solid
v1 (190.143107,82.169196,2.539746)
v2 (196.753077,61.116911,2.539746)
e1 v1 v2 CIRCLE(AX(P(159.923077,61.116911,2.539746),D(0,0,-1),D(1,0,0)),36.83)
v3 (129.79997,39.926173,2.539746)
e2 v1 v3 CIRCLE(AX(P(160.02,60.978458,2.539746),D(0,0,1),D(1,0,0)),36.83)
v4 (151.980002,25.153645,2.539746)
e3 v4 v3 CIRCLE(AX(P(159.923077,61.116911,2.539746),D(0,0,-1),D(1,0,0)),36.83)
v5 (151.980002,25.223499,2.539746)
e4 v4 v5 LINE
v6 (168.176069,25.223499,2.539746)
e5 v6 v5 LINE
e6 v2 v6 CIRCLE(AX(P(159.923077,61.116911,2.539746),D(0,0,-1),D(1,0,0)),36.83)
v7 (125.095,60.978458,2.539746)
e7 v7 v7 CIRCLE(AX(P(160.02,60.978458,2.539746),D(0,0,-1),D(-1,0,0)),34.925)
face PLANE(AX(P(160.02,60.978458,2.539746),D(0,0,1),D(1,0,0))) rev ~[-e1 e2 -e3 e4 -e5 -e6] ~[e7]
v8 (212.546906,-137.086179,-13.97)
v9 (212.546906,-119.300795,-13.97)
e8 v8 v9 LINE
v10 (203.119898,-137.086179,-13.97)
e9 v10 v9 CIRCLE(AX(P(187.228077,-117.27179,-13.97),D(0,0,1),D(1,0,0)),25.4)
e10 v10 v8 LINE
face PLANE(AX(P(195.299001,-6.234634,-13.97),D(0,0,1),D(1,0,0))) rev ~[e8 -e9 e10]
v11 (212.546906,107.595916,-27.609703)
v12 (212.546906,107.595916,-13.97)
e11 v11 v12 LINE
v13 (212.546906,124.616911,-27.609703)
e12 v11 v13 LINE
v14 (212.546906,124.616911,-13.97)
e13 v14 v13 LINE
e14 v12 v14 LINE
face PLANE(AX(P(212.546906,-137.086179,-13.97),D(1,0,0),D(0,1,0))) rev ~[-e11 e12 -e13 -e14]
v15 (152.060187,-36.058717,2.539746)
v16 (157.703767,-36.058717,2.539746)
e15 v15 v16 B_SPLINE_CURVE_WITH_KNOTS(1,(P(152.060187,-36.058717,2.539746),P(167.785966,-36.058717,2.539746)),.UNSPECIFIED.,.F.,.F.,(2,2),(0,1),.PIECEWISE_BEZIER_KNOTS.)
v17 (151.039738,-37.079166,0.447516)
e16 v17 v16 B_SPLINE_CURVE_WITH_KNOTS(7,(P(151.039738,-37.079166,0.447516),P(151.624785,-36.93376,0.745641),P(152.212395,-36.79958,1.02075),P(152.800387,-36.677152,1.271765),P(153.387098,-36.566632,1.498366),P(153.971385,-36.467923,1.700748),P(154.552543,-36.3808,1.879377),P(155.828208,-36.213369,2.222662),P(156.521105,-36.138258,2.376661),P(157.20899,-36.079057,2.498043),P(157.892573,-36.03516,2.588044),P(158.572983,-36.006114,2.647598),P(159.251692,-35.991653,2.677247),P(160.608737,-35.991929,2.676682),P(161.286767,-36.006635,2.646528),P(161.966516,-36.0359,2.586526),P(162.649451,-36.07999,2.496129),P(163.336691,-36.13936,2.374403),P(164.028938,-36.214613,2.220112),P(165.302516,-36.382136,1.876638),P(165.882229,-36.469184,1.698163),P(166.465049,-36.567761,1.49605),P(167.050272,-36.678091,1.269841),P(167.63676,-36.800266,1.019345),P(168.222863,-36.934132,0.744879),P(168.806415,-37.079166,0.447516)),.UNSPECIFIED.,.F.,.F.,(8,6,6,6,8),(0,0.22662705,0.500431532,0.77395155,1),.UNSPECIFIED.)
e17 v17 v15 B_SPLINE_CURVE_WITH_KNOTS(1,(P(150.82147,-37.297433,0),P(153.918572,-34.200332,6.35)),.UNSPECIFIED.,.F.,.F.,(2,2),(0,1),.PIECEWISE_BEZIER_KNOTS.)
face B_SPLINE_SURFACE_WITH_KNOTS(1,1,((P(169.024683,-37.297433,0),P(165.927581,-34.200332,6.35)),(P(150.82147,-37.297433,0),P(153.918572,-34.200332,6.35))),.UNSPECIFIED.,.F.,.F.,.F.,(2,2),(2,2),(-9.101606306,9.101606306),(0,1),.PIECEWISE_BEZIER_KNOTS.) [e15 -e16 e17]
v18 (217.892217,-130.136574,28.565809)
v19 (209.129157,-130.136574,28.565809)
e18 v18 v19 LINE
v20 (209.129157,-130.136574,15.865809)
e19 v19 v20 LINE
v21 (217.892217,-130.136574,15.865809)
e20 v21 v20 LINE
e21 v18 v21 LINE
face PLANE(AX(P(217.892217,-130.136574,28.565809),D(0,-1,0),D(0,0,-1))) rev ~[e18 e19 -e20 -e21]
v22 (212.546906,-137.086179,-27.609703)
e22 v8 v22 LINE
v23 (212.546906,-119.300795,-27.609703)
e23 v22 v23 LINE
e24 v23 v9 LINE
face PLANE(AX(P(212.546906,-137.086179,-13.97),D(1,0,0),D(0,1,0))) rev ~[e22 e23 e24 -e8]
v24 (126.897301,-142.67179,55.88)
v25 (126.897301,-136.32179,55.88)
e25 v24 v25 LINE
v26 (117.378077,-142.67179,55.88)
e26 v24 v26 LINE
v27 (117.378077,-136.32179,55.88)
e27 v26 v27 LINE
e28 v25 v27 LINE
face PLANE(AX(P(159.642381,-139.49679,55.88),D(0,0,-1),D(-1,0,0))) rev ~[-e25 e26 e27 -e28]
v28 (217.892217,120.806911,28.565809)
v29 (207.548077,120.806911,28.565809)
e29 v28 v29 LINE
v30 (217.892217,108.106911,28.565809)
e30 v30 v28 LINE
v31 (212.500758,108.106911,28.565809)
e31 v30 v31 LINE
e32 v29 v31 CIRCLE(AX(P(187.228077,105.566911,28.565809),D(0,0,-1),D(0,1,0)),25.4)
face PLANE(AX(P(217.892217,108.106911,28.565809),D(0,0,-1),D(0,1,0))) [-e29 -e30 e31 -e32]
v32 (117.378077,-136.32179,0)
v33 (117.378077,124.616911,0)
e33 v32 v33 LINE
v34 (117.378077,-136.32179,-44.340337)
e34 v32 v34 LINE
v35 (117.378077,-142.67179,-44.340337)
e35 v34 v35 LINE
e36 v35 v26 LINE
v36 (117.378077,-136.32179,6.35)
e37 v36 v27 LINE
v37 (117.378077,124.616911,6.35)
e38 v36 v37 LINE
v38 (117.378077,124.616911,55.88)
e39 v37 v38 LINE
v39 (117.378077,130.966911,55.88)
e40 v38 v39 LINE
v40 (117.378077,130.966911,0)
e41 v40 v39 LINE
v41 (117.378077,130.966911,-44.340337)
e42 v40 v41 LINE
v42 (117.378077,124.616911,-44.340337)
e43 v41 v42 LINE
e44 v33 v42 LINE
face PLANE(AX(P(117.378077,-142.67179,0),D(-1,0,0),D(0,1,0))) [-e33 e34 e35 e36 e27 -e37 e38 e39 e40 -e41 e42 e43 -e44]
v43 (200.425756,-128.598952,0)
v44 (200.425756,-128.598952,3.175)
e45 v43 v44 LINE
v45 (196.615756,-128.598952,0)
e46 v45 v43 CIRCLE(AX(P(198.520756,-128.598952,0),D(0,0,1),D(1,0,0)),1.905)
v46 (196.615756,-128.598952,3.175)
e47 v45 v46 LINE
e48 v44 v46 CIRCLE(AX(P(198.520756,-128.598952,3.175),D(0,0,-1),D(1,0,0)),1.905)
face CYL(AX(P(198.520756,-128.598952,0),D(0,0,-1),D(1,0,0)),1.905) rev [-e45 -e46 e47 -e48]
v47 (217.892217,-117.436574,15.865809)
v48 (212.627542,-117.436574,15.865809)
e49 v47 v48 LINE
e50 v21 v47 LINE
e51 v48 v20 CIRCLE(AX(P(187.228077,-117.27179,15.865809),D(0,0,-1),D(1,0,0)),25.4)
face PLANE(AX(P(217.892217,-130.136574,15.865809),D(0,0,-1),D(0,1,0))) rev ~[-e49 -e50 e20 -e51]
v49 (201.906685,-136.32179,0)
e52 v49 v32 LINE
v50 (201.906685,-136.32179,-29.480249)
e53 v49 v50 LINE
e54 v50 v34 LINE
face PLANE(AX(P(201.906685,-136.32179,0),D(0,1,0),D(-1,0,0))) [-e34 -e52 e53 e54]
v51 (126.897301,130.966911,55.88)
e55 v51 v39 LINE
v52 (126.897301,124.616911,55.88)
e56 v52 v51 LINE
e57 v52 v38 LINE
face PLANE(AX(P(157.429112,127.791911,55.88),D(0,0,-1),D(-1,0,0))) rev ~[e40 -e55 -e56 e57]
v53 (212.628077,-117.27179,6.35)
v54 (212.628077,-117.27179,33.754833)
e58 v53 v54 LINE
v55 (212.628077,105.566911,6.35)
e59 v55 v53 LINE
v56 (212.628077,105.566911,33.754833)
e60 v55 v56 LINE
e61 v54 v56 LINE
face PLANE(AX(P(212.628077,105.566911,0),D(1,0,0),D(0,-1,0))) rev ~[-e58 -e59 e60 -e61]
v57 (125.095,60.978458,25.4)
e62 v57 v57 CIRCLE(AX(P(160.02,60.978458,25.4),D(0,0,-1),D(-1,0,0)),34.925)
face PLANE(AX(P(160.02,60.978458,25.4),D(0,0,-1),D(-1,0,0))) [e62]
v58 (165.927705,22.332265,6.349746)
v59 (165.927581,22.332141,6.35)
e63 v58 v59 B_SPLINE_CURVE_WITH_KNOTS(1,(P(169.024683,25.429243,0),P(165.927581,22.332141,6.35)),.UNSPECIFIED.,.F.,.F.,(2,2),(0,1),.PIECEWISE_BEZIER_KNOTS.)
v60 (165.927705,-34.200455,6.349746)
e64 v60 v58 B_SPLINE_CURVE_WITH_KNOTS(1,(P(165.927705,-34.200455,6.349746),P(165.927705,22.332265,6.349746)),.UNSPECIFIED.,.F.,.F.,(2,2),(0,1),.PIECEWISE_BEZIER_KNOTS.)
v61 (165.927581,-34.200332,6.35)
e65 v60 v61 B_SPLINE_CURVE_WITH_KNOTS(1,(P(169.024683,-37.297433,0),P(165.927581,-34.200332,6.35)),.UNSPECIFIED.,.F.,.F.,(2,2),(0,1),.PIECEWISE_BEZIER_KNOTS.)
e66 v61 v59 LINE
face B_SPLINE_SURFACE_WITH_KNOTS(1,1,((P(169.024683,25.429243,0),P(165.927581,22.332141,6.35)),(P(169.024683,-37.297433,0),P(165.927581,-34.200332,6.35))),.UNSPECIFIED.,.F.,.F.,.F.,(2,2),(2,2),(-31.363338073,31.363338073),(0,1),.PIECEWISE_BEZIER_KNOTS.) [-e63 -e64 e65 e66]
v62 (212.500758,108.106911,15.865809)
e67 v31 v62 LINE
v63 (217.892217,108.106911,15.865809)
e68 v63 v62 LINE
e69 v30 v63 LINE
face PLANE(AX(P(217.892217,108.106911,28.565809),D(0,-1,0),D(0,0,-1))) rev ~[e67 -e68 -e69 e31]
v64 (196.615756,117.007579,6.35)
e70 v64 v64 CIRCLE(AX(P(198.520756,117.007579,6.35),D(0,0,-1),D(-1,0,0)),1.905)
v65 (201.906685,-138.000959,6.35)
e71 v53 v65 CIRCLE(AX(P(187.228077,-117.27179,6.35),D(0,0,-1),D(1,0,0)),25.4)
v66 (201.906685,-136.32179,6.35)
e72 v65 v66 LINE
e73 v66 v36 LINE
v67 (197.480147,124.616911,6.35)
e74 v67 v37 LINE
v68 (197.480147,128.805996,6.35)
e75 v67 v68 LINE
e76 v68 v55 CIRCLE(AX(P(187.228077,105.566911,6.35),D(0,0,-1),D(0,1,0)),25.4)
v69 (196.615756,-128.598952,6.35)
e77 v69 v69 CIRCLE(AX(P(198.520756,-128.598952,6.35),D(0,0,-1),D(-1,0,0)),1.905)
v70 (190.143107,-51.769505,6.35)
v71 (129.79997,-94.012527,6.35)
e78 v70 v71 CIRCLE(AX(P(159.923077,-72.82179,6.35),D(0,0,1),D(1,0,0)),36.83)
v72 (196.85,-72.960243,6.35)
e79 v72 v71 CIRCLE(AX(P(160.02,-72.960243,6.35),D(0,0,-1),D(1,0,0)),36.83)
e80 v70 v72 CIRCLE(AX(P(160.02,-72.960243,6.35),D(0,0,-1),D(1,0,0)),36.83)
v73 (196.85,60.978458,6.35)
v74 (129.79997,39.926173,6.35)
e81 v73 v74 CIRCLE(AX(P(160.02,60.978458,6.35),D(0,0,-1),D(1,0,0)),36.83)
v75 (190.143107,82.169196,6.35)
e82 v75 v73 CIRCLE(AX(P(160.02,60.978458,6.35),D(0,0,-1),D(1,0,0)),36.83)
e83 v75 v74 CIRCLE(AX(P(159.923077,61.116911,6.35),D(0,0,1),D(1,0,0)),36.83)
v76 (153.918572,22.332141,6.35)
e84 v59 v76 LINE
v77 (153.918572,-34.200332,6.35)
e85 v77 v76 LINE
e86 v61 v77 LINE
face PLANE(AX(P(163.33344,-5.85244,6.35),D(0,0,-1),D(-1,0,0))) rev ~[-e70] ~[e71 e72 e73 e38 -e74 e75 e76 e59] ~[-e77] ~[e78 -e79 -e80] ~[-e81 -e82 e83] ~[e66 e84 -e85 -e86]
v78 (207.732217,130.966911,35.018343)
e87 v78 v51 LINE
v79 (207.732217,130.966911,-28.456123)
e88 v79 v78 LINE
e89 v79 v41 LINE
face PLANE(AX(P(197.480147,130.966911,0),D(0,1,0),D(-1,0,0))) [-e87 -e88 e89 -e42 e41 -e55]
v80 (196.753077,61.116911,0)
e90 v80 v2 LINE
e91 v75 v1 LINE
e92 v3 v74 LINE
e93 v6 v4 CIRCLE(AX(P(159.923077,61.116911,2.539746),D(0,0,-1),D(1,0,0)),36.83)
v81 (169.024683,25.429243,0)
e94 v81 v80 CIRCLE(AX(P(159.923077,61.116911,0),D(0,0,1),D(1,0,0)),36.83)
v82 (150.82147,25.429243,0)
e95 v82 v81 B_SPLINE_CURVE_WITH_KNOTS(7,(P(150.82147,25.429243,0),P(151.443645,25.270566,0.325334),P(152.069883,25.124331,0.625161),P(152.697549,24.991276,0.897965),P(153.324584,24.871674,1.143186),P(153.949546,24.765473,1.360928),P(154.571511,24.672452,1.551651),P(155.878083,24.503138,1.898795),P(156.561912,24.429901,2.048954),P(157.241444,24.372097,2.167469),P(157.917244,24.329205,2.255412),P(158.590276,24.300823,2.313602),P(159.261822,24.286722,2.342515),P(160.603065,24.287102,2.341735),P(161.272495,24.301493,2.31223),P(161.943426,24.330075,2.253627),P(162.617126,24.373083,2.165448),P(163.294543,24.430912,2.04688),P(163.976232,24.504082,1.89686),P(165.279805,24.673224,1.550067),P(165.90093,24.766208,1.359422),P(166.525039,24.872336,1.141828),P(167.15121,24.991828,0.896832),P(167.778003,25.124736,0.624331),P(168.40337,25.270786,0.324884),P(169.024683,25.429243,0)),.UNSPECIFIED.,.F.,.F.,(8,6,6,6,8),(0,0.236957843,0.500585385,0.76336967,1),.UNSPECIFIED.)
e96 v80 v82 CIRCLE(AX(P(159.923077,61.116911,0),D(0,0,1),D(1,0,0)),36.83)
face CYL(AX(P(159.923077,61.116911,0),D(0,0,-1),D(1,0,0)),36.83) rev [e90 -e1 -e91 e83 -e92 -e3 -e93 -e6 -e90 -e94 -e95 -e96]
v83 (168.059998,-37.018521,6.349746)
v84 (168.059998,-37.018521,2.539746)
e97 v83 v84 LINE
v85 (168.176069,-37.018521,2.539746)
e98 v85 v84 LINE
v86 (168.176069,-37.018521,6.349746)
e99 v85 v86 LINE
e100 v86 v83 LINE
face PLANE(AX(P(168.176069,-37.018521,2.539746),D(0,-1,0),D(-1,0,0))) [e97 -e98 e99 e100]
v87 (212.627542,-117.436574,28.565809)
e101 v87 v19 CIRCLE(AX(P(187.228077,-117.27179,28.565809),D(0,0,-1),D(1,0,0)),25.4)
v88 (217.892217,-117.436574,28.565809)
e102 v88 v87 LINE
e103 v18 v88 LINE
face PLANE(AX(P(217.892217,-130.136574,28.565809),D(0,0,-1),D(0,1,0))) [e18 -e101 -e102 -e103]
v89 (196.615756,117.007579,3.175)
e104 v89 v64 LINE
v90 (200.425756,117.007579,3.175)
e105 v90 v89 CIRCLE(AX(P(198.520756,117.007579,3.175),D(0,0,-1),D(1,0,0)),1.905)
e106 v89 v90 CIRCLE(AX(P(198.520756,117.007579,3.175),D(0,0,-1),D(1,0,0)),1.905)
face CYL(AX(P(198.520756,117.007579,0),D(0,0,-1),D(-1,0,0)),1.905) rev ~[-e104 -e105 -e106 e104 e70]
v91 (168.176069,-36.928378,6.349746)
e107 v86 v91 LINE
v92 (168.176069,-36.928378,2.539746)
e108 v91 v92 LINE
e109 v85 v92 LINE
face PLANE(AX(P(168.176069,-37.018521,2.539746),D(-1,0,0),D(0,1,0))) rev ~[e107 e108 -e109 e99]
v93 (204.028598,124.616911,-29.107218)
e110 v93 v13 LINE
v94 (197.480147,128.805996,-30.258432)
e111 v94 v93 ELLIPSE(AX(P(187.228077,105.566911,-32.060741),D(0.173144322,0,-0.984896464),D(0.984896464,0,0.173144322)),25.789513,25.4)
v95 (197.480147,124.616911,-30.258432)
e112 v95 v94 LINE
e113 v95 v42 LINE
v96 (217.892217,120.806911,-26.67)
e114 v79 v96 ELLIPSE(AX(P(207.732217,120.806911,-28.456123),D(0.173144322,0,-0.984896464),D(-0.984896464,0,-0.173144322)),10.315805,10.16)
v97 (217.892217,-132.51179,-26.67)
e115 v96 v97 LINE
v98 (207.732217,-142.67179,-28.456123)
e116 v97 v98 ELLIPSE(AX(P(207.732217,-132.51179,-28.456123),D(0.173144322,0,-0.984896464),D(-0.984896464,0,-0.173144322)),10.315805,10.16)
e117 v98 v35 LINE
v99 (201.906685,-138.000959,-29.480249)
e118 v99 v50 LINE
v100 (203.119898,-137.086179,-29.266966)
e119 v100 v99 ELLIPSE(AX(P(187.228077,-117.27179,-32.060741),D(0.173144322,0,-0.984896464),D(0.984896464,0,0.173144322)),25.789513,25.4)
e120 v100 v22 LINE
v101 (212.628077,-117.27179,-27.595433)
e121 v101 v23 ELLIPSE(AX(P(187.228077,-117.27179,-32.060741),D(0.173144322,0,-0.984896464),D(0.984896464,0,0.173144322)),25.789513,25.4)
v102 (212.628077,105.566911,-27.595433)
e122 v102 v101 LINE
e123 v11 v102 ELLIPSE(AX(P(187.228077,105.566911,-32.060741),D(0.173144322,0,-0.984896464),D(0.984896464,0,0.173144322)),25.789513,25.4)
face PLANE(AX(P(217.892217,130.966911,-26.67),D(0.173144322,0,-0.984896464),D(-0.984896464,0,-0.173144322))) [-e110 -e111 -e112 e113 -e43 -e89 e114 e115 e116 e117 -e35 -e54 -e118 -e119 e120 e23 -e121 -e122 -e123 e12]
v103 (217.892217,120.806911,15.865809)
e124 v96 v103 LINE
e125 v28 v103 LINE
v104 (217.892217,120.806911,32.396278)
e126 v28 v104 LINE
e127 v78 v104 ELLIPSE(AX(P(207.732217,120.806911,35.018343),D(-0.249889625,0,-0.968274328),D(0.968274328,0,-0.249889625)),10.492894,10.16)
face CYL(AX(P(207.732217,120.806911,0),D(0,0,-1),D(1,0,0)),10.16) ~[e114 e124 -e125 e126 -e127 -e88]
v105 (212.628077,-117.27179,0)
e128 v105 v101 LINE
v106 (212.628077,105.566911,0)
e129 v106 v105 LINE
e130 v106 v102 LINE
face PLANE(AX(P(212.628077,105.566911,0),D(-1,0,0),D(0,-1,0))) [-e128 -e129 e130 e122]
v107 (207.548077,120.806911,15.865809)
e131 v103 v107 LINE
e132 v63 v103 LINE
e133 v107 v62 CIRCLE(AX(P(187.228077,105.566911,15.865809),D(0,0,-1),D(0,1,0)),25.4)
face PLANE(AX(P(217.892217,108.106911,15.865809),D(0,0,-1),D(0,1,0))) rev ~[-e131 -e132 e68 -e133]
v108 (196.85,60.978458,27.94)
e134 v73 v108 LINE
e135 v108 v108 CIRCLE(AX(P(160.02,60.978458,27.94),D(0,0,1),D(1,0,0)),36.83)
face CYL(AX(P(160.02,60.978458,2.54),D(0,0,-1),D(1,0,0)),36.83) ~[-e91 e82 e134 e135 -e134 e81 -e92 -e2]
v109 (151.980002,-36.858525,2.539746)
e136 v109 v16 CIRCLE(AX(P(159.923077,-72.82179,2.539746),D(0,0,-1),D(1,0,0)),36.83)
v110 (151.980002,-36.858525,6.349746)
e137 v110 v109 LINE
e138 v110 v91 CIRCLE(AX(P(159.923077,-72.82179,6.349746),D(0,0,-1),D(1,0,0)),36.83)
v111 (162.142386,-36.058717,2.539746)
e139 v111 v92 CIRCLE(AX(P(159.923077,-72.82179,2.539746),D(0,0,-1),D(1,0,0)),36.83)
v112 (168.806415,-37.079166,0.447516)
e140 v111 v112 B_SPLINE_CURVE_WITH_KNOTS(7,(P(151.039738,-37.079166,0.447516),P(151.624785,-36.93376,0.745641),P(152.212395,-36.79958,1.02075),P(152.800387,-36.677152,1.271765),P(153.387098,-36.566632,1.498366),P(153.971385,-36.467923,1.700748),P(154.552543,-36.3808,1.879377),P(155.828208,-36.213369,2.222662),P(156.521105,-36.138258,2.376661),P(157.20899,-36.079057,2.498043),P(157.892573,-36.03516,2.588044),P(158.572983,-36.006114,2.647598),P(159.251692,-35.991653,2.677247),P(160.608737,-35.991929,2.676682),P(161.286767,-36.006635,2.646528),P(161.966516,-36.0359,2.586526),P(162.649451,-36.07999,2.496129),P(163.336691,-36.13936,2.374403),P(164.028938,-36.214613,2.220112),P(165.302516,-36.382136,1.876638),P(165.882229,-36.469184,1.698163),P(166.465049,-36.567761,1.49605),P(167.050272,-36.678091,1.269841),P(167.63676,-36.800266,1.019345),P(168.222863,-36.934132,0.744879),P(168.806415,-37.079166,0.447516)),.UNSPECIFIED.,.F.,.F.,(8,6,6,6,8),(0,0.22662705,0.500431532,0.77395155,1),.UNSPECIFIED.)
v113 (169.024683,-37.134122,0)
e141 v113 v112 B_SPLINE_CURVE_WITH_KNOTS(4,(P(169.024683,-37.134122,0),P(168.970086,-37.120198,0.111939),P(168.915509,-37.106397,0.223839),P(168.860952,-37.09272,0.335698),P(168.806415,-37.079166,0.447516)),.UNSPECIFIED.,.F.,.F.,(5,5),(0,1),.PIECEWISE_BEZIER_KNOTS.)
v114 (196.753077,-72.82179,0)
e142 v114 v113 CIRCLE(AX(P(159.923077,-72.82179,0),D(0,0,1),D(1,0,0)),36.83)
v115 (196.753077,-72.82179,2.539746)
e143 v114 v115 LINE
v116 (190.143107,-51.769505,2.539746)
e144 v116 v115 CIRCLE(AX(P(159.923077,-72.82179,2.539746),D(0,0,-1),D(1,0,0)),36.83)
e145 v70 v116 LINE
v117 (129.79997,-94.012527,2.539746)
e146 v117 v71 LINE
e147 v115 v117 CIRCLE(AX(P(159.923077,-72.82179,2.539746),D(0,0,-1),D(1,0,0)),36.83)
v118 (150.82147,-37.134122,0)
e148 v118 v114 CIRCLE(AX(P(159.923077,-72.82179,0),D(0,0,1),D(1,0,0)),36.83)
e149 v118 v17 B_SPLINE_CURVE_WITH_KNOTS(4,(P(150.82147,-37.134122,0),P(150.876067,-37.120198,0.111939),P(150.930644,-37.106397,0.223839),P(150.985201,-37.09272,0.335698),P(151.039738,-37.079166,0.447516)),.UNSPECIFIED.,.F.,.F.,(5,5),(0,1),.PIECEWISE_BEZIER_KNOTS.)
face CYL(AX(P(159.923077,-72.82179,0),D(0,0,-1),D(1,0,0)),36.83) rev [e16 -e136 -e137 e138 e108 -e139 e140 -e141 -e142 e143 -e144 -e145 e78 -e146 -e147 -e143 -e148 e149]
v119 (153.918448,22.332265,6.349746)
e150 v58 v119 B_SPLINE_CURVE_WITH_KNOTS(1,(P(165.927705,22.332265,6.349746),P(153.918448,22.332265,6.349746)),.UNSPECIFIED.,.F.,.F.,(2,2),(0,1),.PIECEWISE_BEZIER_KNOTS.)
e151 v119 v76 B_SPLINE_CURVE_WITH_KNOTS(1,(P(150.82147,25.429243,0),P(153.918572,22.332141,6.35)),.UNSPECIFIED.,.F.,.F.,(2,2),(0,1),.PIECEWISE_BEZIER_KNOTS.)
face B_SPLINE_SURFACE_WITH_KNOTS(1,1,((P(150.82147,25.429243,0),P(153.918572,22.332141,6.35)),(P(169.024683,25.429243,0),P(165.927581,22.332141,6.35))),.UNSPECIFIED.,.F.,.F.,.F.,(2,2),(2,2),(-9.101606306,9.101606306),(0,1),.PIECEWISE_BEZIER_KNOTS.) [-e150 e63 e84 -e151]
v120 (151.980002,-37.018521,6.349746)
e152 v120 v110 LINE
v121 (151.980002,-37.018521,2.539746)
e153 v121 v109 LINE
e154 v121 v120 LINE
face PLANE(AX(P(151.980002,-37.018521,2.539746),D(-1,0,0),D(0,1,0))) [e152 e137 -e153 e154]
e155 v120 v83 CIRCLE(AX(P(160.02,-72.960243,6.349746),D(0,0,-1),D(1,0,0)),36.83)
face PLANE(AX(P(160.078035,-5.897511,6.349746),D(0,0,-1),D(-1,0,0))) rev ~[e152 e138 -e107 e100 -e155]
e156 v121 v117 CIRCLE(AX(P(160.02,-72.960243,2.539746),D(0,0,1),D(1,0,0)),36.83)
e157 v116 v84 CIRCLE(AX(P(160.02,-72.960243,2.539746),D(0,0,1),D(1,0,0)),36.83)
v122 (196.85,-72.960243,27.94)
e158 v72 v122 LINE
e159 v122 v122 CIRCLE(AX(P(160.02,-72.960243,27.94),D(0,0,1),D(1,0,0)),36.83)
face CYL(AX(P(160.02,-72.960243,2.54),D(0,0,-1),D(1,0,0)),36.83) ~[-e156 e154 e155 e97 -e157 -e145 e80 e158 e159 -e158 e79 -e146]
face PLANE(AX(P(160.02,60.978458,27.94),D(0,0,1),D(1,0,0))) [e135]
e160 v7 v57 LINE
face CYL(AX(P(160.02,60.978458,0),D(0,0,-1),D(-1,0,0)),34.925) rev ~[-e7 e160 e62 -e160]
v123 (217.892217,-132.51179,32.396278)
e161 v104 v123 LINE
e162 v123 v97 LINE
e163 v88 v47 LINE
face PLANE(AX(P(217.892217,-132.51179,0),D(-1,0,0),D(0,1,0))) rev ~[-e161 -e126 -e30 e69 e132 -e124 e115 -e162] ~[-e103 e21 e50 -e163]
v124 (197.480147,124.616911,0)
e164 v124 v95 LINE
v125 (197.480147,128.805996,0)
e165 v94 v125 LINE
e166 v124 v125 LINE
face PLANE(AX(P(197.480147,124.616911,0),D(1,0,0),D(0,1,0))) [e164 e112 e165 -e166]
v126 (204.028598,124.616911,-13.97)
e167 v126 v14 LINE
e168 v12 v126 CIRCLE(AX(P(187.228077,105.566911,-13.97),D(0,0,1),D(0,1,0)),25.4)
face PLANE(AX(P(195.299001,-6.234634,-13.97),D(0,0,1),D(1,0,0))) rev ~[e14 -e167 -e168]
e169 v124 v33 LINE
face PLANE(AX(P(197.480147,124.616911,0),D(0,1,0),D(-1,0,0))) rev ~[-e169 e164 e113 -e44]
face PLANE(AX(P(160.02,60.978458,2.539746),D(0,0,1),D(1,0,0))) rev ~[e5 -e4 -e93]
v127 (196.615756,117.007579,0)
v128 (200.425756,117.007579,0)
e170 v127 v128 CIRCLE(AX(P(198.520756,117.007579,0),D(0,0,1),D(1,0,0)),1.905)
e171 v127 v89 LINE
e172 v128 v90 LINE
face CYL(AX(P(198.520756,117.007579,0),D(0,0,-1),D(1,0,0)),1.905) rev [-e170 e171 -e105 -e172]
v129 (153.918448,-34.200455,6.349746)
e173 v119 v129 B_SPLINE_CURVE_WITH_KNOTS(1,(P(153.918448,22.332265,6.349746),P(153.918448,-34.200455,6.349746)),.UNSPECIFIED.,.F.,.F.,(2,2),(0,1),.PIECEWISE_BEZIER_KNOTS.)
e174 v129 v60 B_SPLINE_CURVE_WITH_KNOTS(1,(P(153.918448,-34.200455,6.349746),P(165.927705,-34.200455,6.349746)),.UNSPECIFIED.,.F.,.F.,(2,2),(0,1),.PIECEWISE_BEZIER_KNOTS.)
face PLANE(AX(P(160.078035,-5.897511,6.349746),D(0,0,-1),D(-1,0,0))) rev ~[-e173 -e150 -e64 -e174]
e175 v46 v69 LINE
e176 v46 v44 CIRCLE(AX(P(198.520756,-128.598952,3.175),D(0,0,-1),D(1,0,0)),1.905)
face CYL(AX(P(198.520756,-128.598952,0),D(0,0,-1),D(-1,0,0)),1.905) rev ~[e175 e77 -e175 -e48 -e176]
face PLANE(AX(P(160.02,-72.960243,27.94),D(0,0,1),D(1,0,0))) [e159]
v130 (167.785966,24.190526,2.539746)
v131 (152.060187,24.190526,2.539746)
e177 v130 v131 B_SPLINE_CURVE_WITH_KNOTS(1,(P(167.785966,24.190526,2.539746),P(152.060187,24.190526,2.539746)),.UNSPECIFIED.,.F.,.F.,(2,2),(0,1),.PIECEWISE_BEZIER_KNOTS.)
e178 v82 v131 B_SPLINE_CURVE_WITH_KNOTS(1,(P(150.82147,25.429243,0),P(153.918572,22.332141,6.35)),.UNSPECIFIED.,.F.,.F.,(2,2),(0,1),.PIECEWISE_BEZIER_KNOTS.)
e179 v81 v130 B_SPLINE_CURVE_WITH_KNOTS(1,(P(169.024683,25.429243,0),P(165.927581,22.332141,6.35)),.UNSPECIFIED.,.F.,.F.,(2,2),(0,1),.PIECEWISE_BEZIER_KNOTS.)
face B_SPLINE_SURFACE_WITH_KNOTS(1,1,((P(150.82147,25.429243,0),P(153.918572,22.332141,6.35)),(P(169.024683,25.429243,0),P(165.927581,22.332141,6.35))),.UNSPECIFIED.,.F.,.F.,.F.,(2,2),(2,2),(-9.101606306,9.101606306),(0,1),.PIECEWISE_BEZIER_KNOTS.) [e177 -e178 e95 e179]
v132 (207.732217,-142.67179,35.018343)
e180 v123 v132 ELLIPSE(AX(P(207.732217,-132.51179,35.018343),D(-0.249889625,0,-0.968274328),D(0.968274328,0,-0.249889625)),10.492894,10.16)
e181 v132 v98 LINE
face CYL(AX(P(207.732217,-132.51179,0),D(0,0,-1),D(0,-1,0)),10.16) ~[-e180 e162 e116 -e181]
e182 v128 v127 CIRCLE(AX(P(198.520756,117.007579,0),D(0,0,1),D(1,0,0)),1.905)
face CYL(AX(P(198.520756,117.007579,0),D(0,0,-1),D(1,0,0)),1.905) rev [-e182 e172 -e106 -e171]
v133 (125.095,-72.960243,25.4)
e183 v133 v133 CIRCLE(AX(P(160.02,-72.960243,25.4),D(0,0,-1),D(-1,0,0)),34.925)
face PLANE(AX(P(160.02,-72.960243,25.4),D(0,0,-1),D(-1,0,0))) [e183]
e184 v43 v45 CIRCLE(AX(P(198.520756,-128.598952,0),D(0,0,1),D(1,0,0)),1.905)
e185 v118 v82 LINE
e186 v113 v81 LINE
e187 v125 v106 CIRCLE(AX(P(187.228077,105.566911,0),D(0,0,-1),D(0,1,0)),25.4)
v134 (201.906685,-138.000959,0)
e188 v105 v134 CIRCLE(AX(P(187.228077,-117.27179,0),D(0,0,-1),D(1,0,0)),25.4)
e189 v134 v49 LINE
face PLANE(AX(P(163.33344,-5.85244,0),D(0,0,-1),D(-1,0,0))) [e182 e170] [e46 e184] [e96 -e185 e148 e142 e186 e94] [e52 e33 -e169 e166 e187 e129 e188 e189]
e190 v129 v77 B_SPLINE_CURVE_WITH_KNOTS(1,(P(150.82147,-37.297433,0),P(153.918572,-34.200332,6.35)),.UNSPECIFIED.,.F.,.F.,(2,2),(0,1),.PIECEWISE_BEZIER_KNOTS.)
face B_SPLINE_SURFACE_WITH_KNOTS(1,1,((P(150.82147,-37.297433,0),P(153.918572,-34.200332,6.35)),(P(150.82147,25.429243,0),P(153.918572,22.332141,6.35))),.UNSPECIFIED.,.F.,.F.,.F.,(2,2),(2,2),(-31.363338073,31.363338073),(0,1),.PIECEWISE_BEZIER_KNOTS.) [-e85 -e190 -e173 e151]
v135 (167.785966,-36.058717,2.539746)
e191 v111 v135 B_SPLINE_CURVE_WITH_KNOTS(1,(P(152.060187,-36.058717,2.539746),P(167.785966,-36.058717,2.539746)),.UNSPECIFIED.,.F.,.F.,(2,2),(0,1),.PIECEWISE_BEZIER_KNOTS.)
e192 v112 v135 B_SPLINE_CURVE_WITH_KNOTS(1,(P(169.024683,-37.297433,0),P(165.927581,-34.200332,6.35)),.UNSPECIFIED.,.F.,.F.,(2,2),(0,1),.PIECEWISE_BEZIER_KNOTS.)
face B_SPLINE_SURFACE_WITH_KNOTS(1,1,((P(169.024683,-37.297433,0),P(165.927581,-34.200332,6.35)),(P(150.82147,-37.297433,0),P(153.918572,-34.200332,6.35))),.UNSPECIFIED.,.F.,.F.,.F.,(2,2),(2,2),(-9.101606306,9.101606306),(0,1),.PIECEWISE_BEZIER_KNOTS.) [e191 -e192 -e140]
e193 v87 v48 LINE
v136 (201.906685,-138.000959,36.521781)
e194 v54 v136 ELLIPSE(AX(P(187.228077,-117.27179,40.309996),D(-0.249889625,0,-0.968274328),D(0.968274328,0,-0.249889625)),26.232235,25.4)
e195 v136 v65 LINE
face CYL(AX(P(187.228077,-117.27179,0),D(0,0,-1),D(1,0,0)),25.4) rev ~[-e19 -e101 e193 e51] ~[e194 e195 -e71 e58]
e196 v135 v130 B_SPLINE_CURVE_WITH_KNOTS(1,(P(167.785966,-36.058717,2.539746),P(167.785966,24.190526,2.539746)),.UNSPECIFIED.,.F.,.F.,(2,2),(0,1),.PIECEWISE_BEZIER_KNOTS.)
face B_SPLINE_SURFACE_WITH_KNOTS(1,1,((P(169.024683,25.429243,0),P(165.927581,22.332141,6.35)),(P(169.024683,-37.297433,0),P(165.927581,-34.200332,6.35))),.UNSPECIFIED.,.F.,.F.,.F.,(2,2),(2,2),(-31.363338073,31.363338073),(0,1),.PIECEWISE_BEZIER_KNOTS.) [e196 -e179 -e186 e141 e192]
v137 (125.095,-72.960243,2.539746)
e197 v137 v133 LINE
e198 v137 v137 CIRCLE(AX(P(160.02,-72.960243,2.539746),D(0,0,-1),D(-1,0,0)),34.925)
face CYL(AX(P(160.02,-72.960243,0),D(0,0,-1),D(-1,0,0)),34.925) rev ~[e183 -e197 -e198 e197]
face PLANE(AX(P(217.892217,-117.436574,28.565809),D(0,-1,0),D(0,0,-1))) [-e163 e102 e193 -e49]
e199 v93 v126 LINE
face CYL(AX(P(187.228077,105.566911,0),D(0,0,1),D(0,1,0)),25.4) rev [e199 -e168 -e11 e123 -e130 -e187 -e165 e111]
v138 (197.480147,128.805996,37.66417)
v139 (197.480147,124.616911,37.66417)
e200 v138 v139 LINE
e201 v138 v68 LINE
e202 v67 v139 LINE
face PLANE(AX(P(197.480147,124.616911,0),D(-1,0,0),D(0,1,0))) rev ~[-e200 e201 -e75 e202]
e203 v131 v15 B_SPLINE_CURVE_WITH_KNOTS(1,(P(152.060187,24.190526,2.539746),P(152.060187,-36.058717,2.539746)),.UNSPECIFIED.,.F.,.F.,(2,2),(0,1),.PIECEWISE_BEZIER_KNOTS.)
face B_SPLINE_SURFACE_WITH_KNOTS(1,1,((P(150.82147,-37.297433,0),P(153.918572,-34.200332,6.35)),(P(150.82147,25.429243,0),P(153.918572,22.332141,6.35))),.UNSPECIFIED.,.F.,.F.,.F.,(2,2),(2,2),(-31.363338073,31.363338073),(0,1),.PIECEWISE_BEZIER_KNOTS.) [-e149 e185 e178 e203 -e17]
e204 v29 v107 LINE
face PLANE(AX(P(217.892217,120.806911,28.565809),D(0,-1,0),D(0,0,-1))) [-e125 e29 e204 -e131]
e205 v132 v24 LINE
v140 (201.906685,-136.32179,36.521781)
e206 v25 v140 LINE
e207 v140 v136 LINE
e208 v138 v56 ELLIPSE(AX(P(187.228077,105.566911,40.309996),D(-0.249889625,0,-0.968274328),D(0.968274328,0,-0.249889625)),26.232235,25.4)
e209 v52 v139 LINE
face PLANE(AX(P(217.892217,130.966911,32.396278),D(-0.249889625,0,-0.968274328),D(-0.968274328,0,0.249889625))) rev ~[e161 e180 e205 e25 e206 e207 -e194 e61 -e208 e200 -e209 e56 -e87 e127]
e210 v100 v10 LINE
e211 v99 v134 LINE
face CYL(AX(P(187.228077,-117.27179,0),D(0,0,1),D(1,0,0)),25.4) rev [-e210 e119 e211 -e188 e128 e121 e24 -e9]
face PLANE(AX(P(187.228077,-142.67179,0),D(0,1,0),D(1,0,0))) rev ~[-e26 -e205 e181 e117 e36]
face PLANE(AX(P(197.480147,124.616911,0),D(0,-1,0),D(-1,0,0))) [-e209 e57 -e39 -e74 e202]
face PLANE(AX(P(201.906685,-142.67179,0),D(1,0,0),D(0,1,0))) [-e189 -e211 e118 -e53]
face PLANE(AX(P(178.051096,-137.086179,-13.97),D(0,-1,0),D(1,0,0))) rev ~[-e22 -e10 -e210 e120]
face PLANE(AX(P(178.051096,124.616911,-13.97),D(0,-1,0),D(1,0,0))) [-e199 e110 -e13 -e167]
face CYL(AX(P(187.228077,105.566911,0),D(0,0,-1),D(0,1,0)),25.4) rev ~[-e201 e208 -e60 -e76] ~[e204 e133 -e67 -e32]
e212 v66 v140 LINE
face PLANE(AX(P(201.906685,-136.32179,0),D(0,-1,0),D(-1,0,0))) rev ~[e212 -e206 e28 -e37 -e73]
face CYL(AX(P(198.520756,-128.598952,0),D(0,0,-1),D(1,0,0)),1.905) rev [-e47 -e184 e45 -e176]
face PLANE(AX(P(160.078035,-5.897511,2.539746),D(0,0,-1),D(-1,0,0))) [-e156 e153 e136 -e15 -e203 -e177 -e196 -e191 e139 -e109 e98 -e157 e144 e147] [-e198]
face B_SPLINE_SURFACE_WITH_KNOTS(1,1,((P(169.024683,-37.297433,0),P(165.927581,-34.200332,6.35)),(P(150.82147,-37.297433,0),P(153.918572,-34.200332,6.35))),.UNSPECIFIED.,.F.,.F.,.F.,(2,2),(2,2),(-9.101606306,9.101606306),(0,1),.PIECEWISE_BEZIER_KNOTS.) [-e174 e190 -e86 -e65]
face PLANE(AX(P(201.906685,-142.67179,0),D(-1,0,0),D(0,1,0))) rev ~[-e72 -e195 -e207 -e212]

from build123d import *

# Parameters (mm, degrees)
SKETCH7_R                = 36.83
SKETCH7_R_2              = 1.905
BOSS_EXTRUDE1_DEPTH      = 6.35
SKETCH8_R                = 36.83
BOSS_EXTRUDE2_DEPTH      = 25.4
BOSS_EXTRUDE2_DEPTH_BACK = 0.000254
SKETCH9_R                = 34.925
CUT_EXTRUDE4_DEPTH       = 25.4
BOSS_EXTRUDE3_DEPTH      = 3.175
BOSS_EXTRUDE4_DEPTH      = 38.1
BOSS_EXTRUDE4_DEPTH_BACK = 40.64
CUT_EXTRUDE5_START       = -20.32
SKETCH12_W               = 34.495809925
SKETCH12_H               = 261.703089784
CUT_EXTRUDE5_DEPTH       = 48.26
SKETCH18_W               = 80.102069995
SKETCH18_H               = 6.35
SKETCH18_W_2             = 84.52860838
BOSS_EXTRUDE7_DEPTH      = 66.04
BOSS_EXTRUDE7_DEPTH_BACK = 55.88
MAIN_ANGLE_DEPTH         = 274.638700862
SKETCH19_W               = 12.7
SKETCH19_H               = 12.7
CUT_EXTRUDE8_DEPTH       = 45.72
SKETCH20_W               = 18.203212612
SKETCH20_H               = 62.726676146
CUT_EXTRUDE9_DEPTH       = 6.35
CUT_EXTRUDE9_TAPER       = 26
SKETCH23_R               = 1.905
CUT_EXTRUDE10_DEPTH      = 56.88
SKETCH24_W               = 16.196066748
SKETCH24_H               = 62.242020171
BOSS_EXTRUDE10_DEPTH     = 3.81


with BuildPart() as part:
    # Sketch7 → Boss-Extrude1 (new body)
    with BuildSketch(Plane.XY):
        with BuildLine():
            Line((117.378076693, -136.321789995), (117.378076693, 124.616910866))
            Line((117.378076693, 124.616910866), (117.378076693, 130.966910866))
            Line((117.378076693, 130.966910866), (187.228076693, 130.966910866))
            ThreePointArc((187.228076693, 130.966910866), (205.188588935, 123.527423108), (212.628076693, 105.566910866))
            Line((212.628076693, 105.566910866), (212.628076693, -117.271789995))
            ThreePointArc((212.628076693, -117.271789995), (205.188588935, -135.232302238), (187.228076693, -142.671789995))
            Line((187.228076693, -142.671789995), (117.378076693, -142.671789995))
            Line((117.378076693, -142.671789995), (117.378076693, -136.321789995))
        make_face()
        with Locations((159.923076693, 61.116910866)):
            Circle(SKETCH7_R, mode=Mode.SUBTRACT)
        with Locations((159.923076693, -72.821789995)):
            Circle(SKETCH7_R, mode=Mode.SUBTRACT)
        with Locations((198.520756421, 117.007578537)):
            Circle(SKETCH7_R_2, mode=Mode.SUBTRACT)
        with Locations((198.520756421, -128.598951794)):
            Circle(SKETCH7_R_2, mode=Mode.SUBTRACT)
    extrude(amount=BOSS_EXTRUDE1_DEPTH)

    # Sketch8 → Boss-Extrude2 (add, two sides)
    with BuildSketch(Plane.XY.offset(2.54)) as boss_extrude2_sk:
        with Locations((160.02, 60.978458264)):
            Circle(SKETCH8_R)
        with Locations((160.02, -72.960242597)):
            Circle(SKETCH8_R)
    extrude(amount=BOSS_EXTRUDE2_DEPTH)
    extrude(boss_extrude2_sk.sketch, amount=-BOSS_EXTRUDE2_DEPTH_BACK)

    # Sketch9 → Cut-Extrude4 (cut)
    with BuildSketch(Plane(origin=(0, 0, 0), x_dir=(-1, 0, 0), z_dir=(0, 0, -1))):
        with Locations((-160.02, 60.978458264)):
            Circle(SKETCH9_R)
        with Locations((-160.02, -72.960242597)):
            Circle(SKETCH9_R)
    extrude(amount=-CUT_EXTRUDE4_DEPTH, mode=Mode.SUBTRACT)

    # Sketch10 → Boss-Extrude3 (add)
    with BuildSketch(Plane.XY.offset(6.35)):
        with BuildLine():
            Line((187.228076693, 130.966910866), (187.228076693, 105.566910866))
            Line((187.228076693, 105.566910866), (212.628076693, 105.566910866))
            ThreePointArc((212.628076693, 105.566910866), (205.188588935, 123.527423108), (187.228076693, 130.966910866))
        make_face()
        with BuildLine():
            Line((212.628076693, -117.271789995), (187.228076693, -117.271789995))
            Line((187.228076693, -117.271789995), (187.228076693, -142.671789995))
            ThreePointArc((187.228076693, -142.671789995), (205.188588935, -135.232302238), (212.628076693, -117.271789995))
        make_face()
    extrude(amount=-BOSS_EXTRUDE3_DEPTH)

    # Sketch11 → Boss-Extrude4 (add, two sides)
    with BuildSketch(Plane(origin=(0, 0, 0), x_dir=(-1, 0, 0), z_dir=(0, 0, -1))) as boss_extrude4_sk:
        with BuildLine():
            Line((-217.892216682, -132.511789995), (-217.892216682, 120.806910866))
            ThreePointArc((-217.892216682, 120.806910866), (-214.916421579, 127.991115763), (-207.732216682, 130.966910866))
            Line((-207.732216682, 130.966910866), (-187.228076693, 130.966910866))
            ThreePointArc((-187.228076693, 130.966910866), (-205.188588935, 123.527423108), (-212.628076693, 105.566910866))
            Line((-212.628076693, 105.566910866), (-212.628076693, -117.271789995))
            ThreePointArc((-212.628076693, -117.271789995), (-205.188588935, -135.232302238), (-187.228076693, -142.671789995))
            Line((-187.228076693, -142.671789995), (-207.732216682, -142.671789995))
            ThreePointArc((-207.732216682, -142.671789995), (-214.916421579, -139.695994892), (-217.892216682, -132.511789995))
        make_face()
    extrude(amount=BOSS_EXTRUDE4_DEPTH)
    extrude(boss_extrude4_sk.sketch, amount=-BOSS_EXTRUDE4_DEPTH_BACK)

    # Sketch12 → Cut-Extrude5 (cut)
    with BuildSketch(Plane.XY.offset(6.35).offset(CUT_EXTRUDE5_START)):
        with Locations((195.299001462, -6.234634026)):
            Rectangle(SKETCH12_W, SKETCH12_H)
    extrude(amount=-CUT_EXTRUDE5_DEPTH, mode=Mode.SUBTRACT)

    # Sketch18 → Boss-Extrude7 (add, two sides)
    with BuildSketch(Plane(origin=(0, 0, 0), x_dir=(-1, 0, 0), z_dir=(0, 0, -1))) as boss_extrude7_sk:
        with Locations((-157.429111691, 127.791910866)):
            Rectangle(SKETCH18_W, SKETCH18_H)
        with Locations((-159.642380883, -139.496789995)):
            Rectangle(SKETCH18_W_2, SKETCH18_H)
    extrude(amount=BOSS_EXTRUDE7_DEPTH)
    extrude(boss_extrude7_sk.sketch, amount=-BOSS_EXTRUDE7_DEPTH_BACK)

    # Sketch16 → main angle (cut, through all)
    with BuildSketch(Plane(origin=(0, 130.966910866, 0), x_dir=(1, 0, 0), z_dir=(0, 1, 0))):
        Polygon((217.892216682, 26.67), (-101.016881875, 82.73406518), (217.892216682, 82.73406518), align=None)
        Polygon((217.892216682, -32.396277701), (47.589100189, -76.347646381), (217.892216682, -67.47666805), align=None)
    extrude(amount=-MAIN_ANGLE_DEPTH, mode=Mode.SUBTRACT)

    # Sketch19 → Cut-Extrude8 (cut)
    with BuildSketch(Plane(origin=(217.892216682, 0, 0), x_dir=(0, 0, -1), z_dir=(1, 0, 0))):
        with Locations((-22.215809399, -123.786574298)):
            Rectangle(SKETCH19_W, SKETCH19_H)
        with Locations((-22.215809399, 114.456910866)):
            Rectangle(SKETCH19_W, SKETCH19_H)
    extrude(amount=-CUT_EXTRUDE8_DEPTH, mode=Mode.SUBTRACT)

    # Sketch20 → Cut-Extrude9 (cut)
    with BuildSketch(Plane(origin=(0, 0, 0), x_dir=(-1, 0, 0), z_dir=(0, 0, -1))):
        with Locations((-159.923076693, -5.934095423)):
            Rectangle(SKETCH20_W, SKETCH20_H)
    extrude(amount=-CUT_EXTRUDE9_DEPTH, taper=CUT_EXTRUDE9_TAPER, mode=Mode.SUBTRACT)

    # Sketch23 → Cut-Extrude10 (cut, through all)
    with BuildSketch(Plane(origin=(0, 0, 0), x_dir=(-1, 0, 0), z_dir=(0, 0, -1))):
        with Locations((-198.520756421, 117.007578537)):
            Circle(SKETCH23_R)
        with Locations((-198.520756421, -128.598951794)):
            Circle(SKETCH23_R)
    extrude(amount=-CUT_EXTRUDE10_DEPTH, mode=Mode.SUBTRACT)

    # Sketch24 → Boss-Extrude10 (add)
    with BuildSketch(Plane(origin=(0, 0, 2.539746), x_dir=(-1, 0, 0), z_dir=(0, 0, -1))):
        with Locations((-160.078035159, -5.897511229)):
            Rectangle(SKETCH24_W, SKETCH24_H)
    extrude(amount=-BOSS_EXTRUDE10_DEPTH)


solid = part.part
